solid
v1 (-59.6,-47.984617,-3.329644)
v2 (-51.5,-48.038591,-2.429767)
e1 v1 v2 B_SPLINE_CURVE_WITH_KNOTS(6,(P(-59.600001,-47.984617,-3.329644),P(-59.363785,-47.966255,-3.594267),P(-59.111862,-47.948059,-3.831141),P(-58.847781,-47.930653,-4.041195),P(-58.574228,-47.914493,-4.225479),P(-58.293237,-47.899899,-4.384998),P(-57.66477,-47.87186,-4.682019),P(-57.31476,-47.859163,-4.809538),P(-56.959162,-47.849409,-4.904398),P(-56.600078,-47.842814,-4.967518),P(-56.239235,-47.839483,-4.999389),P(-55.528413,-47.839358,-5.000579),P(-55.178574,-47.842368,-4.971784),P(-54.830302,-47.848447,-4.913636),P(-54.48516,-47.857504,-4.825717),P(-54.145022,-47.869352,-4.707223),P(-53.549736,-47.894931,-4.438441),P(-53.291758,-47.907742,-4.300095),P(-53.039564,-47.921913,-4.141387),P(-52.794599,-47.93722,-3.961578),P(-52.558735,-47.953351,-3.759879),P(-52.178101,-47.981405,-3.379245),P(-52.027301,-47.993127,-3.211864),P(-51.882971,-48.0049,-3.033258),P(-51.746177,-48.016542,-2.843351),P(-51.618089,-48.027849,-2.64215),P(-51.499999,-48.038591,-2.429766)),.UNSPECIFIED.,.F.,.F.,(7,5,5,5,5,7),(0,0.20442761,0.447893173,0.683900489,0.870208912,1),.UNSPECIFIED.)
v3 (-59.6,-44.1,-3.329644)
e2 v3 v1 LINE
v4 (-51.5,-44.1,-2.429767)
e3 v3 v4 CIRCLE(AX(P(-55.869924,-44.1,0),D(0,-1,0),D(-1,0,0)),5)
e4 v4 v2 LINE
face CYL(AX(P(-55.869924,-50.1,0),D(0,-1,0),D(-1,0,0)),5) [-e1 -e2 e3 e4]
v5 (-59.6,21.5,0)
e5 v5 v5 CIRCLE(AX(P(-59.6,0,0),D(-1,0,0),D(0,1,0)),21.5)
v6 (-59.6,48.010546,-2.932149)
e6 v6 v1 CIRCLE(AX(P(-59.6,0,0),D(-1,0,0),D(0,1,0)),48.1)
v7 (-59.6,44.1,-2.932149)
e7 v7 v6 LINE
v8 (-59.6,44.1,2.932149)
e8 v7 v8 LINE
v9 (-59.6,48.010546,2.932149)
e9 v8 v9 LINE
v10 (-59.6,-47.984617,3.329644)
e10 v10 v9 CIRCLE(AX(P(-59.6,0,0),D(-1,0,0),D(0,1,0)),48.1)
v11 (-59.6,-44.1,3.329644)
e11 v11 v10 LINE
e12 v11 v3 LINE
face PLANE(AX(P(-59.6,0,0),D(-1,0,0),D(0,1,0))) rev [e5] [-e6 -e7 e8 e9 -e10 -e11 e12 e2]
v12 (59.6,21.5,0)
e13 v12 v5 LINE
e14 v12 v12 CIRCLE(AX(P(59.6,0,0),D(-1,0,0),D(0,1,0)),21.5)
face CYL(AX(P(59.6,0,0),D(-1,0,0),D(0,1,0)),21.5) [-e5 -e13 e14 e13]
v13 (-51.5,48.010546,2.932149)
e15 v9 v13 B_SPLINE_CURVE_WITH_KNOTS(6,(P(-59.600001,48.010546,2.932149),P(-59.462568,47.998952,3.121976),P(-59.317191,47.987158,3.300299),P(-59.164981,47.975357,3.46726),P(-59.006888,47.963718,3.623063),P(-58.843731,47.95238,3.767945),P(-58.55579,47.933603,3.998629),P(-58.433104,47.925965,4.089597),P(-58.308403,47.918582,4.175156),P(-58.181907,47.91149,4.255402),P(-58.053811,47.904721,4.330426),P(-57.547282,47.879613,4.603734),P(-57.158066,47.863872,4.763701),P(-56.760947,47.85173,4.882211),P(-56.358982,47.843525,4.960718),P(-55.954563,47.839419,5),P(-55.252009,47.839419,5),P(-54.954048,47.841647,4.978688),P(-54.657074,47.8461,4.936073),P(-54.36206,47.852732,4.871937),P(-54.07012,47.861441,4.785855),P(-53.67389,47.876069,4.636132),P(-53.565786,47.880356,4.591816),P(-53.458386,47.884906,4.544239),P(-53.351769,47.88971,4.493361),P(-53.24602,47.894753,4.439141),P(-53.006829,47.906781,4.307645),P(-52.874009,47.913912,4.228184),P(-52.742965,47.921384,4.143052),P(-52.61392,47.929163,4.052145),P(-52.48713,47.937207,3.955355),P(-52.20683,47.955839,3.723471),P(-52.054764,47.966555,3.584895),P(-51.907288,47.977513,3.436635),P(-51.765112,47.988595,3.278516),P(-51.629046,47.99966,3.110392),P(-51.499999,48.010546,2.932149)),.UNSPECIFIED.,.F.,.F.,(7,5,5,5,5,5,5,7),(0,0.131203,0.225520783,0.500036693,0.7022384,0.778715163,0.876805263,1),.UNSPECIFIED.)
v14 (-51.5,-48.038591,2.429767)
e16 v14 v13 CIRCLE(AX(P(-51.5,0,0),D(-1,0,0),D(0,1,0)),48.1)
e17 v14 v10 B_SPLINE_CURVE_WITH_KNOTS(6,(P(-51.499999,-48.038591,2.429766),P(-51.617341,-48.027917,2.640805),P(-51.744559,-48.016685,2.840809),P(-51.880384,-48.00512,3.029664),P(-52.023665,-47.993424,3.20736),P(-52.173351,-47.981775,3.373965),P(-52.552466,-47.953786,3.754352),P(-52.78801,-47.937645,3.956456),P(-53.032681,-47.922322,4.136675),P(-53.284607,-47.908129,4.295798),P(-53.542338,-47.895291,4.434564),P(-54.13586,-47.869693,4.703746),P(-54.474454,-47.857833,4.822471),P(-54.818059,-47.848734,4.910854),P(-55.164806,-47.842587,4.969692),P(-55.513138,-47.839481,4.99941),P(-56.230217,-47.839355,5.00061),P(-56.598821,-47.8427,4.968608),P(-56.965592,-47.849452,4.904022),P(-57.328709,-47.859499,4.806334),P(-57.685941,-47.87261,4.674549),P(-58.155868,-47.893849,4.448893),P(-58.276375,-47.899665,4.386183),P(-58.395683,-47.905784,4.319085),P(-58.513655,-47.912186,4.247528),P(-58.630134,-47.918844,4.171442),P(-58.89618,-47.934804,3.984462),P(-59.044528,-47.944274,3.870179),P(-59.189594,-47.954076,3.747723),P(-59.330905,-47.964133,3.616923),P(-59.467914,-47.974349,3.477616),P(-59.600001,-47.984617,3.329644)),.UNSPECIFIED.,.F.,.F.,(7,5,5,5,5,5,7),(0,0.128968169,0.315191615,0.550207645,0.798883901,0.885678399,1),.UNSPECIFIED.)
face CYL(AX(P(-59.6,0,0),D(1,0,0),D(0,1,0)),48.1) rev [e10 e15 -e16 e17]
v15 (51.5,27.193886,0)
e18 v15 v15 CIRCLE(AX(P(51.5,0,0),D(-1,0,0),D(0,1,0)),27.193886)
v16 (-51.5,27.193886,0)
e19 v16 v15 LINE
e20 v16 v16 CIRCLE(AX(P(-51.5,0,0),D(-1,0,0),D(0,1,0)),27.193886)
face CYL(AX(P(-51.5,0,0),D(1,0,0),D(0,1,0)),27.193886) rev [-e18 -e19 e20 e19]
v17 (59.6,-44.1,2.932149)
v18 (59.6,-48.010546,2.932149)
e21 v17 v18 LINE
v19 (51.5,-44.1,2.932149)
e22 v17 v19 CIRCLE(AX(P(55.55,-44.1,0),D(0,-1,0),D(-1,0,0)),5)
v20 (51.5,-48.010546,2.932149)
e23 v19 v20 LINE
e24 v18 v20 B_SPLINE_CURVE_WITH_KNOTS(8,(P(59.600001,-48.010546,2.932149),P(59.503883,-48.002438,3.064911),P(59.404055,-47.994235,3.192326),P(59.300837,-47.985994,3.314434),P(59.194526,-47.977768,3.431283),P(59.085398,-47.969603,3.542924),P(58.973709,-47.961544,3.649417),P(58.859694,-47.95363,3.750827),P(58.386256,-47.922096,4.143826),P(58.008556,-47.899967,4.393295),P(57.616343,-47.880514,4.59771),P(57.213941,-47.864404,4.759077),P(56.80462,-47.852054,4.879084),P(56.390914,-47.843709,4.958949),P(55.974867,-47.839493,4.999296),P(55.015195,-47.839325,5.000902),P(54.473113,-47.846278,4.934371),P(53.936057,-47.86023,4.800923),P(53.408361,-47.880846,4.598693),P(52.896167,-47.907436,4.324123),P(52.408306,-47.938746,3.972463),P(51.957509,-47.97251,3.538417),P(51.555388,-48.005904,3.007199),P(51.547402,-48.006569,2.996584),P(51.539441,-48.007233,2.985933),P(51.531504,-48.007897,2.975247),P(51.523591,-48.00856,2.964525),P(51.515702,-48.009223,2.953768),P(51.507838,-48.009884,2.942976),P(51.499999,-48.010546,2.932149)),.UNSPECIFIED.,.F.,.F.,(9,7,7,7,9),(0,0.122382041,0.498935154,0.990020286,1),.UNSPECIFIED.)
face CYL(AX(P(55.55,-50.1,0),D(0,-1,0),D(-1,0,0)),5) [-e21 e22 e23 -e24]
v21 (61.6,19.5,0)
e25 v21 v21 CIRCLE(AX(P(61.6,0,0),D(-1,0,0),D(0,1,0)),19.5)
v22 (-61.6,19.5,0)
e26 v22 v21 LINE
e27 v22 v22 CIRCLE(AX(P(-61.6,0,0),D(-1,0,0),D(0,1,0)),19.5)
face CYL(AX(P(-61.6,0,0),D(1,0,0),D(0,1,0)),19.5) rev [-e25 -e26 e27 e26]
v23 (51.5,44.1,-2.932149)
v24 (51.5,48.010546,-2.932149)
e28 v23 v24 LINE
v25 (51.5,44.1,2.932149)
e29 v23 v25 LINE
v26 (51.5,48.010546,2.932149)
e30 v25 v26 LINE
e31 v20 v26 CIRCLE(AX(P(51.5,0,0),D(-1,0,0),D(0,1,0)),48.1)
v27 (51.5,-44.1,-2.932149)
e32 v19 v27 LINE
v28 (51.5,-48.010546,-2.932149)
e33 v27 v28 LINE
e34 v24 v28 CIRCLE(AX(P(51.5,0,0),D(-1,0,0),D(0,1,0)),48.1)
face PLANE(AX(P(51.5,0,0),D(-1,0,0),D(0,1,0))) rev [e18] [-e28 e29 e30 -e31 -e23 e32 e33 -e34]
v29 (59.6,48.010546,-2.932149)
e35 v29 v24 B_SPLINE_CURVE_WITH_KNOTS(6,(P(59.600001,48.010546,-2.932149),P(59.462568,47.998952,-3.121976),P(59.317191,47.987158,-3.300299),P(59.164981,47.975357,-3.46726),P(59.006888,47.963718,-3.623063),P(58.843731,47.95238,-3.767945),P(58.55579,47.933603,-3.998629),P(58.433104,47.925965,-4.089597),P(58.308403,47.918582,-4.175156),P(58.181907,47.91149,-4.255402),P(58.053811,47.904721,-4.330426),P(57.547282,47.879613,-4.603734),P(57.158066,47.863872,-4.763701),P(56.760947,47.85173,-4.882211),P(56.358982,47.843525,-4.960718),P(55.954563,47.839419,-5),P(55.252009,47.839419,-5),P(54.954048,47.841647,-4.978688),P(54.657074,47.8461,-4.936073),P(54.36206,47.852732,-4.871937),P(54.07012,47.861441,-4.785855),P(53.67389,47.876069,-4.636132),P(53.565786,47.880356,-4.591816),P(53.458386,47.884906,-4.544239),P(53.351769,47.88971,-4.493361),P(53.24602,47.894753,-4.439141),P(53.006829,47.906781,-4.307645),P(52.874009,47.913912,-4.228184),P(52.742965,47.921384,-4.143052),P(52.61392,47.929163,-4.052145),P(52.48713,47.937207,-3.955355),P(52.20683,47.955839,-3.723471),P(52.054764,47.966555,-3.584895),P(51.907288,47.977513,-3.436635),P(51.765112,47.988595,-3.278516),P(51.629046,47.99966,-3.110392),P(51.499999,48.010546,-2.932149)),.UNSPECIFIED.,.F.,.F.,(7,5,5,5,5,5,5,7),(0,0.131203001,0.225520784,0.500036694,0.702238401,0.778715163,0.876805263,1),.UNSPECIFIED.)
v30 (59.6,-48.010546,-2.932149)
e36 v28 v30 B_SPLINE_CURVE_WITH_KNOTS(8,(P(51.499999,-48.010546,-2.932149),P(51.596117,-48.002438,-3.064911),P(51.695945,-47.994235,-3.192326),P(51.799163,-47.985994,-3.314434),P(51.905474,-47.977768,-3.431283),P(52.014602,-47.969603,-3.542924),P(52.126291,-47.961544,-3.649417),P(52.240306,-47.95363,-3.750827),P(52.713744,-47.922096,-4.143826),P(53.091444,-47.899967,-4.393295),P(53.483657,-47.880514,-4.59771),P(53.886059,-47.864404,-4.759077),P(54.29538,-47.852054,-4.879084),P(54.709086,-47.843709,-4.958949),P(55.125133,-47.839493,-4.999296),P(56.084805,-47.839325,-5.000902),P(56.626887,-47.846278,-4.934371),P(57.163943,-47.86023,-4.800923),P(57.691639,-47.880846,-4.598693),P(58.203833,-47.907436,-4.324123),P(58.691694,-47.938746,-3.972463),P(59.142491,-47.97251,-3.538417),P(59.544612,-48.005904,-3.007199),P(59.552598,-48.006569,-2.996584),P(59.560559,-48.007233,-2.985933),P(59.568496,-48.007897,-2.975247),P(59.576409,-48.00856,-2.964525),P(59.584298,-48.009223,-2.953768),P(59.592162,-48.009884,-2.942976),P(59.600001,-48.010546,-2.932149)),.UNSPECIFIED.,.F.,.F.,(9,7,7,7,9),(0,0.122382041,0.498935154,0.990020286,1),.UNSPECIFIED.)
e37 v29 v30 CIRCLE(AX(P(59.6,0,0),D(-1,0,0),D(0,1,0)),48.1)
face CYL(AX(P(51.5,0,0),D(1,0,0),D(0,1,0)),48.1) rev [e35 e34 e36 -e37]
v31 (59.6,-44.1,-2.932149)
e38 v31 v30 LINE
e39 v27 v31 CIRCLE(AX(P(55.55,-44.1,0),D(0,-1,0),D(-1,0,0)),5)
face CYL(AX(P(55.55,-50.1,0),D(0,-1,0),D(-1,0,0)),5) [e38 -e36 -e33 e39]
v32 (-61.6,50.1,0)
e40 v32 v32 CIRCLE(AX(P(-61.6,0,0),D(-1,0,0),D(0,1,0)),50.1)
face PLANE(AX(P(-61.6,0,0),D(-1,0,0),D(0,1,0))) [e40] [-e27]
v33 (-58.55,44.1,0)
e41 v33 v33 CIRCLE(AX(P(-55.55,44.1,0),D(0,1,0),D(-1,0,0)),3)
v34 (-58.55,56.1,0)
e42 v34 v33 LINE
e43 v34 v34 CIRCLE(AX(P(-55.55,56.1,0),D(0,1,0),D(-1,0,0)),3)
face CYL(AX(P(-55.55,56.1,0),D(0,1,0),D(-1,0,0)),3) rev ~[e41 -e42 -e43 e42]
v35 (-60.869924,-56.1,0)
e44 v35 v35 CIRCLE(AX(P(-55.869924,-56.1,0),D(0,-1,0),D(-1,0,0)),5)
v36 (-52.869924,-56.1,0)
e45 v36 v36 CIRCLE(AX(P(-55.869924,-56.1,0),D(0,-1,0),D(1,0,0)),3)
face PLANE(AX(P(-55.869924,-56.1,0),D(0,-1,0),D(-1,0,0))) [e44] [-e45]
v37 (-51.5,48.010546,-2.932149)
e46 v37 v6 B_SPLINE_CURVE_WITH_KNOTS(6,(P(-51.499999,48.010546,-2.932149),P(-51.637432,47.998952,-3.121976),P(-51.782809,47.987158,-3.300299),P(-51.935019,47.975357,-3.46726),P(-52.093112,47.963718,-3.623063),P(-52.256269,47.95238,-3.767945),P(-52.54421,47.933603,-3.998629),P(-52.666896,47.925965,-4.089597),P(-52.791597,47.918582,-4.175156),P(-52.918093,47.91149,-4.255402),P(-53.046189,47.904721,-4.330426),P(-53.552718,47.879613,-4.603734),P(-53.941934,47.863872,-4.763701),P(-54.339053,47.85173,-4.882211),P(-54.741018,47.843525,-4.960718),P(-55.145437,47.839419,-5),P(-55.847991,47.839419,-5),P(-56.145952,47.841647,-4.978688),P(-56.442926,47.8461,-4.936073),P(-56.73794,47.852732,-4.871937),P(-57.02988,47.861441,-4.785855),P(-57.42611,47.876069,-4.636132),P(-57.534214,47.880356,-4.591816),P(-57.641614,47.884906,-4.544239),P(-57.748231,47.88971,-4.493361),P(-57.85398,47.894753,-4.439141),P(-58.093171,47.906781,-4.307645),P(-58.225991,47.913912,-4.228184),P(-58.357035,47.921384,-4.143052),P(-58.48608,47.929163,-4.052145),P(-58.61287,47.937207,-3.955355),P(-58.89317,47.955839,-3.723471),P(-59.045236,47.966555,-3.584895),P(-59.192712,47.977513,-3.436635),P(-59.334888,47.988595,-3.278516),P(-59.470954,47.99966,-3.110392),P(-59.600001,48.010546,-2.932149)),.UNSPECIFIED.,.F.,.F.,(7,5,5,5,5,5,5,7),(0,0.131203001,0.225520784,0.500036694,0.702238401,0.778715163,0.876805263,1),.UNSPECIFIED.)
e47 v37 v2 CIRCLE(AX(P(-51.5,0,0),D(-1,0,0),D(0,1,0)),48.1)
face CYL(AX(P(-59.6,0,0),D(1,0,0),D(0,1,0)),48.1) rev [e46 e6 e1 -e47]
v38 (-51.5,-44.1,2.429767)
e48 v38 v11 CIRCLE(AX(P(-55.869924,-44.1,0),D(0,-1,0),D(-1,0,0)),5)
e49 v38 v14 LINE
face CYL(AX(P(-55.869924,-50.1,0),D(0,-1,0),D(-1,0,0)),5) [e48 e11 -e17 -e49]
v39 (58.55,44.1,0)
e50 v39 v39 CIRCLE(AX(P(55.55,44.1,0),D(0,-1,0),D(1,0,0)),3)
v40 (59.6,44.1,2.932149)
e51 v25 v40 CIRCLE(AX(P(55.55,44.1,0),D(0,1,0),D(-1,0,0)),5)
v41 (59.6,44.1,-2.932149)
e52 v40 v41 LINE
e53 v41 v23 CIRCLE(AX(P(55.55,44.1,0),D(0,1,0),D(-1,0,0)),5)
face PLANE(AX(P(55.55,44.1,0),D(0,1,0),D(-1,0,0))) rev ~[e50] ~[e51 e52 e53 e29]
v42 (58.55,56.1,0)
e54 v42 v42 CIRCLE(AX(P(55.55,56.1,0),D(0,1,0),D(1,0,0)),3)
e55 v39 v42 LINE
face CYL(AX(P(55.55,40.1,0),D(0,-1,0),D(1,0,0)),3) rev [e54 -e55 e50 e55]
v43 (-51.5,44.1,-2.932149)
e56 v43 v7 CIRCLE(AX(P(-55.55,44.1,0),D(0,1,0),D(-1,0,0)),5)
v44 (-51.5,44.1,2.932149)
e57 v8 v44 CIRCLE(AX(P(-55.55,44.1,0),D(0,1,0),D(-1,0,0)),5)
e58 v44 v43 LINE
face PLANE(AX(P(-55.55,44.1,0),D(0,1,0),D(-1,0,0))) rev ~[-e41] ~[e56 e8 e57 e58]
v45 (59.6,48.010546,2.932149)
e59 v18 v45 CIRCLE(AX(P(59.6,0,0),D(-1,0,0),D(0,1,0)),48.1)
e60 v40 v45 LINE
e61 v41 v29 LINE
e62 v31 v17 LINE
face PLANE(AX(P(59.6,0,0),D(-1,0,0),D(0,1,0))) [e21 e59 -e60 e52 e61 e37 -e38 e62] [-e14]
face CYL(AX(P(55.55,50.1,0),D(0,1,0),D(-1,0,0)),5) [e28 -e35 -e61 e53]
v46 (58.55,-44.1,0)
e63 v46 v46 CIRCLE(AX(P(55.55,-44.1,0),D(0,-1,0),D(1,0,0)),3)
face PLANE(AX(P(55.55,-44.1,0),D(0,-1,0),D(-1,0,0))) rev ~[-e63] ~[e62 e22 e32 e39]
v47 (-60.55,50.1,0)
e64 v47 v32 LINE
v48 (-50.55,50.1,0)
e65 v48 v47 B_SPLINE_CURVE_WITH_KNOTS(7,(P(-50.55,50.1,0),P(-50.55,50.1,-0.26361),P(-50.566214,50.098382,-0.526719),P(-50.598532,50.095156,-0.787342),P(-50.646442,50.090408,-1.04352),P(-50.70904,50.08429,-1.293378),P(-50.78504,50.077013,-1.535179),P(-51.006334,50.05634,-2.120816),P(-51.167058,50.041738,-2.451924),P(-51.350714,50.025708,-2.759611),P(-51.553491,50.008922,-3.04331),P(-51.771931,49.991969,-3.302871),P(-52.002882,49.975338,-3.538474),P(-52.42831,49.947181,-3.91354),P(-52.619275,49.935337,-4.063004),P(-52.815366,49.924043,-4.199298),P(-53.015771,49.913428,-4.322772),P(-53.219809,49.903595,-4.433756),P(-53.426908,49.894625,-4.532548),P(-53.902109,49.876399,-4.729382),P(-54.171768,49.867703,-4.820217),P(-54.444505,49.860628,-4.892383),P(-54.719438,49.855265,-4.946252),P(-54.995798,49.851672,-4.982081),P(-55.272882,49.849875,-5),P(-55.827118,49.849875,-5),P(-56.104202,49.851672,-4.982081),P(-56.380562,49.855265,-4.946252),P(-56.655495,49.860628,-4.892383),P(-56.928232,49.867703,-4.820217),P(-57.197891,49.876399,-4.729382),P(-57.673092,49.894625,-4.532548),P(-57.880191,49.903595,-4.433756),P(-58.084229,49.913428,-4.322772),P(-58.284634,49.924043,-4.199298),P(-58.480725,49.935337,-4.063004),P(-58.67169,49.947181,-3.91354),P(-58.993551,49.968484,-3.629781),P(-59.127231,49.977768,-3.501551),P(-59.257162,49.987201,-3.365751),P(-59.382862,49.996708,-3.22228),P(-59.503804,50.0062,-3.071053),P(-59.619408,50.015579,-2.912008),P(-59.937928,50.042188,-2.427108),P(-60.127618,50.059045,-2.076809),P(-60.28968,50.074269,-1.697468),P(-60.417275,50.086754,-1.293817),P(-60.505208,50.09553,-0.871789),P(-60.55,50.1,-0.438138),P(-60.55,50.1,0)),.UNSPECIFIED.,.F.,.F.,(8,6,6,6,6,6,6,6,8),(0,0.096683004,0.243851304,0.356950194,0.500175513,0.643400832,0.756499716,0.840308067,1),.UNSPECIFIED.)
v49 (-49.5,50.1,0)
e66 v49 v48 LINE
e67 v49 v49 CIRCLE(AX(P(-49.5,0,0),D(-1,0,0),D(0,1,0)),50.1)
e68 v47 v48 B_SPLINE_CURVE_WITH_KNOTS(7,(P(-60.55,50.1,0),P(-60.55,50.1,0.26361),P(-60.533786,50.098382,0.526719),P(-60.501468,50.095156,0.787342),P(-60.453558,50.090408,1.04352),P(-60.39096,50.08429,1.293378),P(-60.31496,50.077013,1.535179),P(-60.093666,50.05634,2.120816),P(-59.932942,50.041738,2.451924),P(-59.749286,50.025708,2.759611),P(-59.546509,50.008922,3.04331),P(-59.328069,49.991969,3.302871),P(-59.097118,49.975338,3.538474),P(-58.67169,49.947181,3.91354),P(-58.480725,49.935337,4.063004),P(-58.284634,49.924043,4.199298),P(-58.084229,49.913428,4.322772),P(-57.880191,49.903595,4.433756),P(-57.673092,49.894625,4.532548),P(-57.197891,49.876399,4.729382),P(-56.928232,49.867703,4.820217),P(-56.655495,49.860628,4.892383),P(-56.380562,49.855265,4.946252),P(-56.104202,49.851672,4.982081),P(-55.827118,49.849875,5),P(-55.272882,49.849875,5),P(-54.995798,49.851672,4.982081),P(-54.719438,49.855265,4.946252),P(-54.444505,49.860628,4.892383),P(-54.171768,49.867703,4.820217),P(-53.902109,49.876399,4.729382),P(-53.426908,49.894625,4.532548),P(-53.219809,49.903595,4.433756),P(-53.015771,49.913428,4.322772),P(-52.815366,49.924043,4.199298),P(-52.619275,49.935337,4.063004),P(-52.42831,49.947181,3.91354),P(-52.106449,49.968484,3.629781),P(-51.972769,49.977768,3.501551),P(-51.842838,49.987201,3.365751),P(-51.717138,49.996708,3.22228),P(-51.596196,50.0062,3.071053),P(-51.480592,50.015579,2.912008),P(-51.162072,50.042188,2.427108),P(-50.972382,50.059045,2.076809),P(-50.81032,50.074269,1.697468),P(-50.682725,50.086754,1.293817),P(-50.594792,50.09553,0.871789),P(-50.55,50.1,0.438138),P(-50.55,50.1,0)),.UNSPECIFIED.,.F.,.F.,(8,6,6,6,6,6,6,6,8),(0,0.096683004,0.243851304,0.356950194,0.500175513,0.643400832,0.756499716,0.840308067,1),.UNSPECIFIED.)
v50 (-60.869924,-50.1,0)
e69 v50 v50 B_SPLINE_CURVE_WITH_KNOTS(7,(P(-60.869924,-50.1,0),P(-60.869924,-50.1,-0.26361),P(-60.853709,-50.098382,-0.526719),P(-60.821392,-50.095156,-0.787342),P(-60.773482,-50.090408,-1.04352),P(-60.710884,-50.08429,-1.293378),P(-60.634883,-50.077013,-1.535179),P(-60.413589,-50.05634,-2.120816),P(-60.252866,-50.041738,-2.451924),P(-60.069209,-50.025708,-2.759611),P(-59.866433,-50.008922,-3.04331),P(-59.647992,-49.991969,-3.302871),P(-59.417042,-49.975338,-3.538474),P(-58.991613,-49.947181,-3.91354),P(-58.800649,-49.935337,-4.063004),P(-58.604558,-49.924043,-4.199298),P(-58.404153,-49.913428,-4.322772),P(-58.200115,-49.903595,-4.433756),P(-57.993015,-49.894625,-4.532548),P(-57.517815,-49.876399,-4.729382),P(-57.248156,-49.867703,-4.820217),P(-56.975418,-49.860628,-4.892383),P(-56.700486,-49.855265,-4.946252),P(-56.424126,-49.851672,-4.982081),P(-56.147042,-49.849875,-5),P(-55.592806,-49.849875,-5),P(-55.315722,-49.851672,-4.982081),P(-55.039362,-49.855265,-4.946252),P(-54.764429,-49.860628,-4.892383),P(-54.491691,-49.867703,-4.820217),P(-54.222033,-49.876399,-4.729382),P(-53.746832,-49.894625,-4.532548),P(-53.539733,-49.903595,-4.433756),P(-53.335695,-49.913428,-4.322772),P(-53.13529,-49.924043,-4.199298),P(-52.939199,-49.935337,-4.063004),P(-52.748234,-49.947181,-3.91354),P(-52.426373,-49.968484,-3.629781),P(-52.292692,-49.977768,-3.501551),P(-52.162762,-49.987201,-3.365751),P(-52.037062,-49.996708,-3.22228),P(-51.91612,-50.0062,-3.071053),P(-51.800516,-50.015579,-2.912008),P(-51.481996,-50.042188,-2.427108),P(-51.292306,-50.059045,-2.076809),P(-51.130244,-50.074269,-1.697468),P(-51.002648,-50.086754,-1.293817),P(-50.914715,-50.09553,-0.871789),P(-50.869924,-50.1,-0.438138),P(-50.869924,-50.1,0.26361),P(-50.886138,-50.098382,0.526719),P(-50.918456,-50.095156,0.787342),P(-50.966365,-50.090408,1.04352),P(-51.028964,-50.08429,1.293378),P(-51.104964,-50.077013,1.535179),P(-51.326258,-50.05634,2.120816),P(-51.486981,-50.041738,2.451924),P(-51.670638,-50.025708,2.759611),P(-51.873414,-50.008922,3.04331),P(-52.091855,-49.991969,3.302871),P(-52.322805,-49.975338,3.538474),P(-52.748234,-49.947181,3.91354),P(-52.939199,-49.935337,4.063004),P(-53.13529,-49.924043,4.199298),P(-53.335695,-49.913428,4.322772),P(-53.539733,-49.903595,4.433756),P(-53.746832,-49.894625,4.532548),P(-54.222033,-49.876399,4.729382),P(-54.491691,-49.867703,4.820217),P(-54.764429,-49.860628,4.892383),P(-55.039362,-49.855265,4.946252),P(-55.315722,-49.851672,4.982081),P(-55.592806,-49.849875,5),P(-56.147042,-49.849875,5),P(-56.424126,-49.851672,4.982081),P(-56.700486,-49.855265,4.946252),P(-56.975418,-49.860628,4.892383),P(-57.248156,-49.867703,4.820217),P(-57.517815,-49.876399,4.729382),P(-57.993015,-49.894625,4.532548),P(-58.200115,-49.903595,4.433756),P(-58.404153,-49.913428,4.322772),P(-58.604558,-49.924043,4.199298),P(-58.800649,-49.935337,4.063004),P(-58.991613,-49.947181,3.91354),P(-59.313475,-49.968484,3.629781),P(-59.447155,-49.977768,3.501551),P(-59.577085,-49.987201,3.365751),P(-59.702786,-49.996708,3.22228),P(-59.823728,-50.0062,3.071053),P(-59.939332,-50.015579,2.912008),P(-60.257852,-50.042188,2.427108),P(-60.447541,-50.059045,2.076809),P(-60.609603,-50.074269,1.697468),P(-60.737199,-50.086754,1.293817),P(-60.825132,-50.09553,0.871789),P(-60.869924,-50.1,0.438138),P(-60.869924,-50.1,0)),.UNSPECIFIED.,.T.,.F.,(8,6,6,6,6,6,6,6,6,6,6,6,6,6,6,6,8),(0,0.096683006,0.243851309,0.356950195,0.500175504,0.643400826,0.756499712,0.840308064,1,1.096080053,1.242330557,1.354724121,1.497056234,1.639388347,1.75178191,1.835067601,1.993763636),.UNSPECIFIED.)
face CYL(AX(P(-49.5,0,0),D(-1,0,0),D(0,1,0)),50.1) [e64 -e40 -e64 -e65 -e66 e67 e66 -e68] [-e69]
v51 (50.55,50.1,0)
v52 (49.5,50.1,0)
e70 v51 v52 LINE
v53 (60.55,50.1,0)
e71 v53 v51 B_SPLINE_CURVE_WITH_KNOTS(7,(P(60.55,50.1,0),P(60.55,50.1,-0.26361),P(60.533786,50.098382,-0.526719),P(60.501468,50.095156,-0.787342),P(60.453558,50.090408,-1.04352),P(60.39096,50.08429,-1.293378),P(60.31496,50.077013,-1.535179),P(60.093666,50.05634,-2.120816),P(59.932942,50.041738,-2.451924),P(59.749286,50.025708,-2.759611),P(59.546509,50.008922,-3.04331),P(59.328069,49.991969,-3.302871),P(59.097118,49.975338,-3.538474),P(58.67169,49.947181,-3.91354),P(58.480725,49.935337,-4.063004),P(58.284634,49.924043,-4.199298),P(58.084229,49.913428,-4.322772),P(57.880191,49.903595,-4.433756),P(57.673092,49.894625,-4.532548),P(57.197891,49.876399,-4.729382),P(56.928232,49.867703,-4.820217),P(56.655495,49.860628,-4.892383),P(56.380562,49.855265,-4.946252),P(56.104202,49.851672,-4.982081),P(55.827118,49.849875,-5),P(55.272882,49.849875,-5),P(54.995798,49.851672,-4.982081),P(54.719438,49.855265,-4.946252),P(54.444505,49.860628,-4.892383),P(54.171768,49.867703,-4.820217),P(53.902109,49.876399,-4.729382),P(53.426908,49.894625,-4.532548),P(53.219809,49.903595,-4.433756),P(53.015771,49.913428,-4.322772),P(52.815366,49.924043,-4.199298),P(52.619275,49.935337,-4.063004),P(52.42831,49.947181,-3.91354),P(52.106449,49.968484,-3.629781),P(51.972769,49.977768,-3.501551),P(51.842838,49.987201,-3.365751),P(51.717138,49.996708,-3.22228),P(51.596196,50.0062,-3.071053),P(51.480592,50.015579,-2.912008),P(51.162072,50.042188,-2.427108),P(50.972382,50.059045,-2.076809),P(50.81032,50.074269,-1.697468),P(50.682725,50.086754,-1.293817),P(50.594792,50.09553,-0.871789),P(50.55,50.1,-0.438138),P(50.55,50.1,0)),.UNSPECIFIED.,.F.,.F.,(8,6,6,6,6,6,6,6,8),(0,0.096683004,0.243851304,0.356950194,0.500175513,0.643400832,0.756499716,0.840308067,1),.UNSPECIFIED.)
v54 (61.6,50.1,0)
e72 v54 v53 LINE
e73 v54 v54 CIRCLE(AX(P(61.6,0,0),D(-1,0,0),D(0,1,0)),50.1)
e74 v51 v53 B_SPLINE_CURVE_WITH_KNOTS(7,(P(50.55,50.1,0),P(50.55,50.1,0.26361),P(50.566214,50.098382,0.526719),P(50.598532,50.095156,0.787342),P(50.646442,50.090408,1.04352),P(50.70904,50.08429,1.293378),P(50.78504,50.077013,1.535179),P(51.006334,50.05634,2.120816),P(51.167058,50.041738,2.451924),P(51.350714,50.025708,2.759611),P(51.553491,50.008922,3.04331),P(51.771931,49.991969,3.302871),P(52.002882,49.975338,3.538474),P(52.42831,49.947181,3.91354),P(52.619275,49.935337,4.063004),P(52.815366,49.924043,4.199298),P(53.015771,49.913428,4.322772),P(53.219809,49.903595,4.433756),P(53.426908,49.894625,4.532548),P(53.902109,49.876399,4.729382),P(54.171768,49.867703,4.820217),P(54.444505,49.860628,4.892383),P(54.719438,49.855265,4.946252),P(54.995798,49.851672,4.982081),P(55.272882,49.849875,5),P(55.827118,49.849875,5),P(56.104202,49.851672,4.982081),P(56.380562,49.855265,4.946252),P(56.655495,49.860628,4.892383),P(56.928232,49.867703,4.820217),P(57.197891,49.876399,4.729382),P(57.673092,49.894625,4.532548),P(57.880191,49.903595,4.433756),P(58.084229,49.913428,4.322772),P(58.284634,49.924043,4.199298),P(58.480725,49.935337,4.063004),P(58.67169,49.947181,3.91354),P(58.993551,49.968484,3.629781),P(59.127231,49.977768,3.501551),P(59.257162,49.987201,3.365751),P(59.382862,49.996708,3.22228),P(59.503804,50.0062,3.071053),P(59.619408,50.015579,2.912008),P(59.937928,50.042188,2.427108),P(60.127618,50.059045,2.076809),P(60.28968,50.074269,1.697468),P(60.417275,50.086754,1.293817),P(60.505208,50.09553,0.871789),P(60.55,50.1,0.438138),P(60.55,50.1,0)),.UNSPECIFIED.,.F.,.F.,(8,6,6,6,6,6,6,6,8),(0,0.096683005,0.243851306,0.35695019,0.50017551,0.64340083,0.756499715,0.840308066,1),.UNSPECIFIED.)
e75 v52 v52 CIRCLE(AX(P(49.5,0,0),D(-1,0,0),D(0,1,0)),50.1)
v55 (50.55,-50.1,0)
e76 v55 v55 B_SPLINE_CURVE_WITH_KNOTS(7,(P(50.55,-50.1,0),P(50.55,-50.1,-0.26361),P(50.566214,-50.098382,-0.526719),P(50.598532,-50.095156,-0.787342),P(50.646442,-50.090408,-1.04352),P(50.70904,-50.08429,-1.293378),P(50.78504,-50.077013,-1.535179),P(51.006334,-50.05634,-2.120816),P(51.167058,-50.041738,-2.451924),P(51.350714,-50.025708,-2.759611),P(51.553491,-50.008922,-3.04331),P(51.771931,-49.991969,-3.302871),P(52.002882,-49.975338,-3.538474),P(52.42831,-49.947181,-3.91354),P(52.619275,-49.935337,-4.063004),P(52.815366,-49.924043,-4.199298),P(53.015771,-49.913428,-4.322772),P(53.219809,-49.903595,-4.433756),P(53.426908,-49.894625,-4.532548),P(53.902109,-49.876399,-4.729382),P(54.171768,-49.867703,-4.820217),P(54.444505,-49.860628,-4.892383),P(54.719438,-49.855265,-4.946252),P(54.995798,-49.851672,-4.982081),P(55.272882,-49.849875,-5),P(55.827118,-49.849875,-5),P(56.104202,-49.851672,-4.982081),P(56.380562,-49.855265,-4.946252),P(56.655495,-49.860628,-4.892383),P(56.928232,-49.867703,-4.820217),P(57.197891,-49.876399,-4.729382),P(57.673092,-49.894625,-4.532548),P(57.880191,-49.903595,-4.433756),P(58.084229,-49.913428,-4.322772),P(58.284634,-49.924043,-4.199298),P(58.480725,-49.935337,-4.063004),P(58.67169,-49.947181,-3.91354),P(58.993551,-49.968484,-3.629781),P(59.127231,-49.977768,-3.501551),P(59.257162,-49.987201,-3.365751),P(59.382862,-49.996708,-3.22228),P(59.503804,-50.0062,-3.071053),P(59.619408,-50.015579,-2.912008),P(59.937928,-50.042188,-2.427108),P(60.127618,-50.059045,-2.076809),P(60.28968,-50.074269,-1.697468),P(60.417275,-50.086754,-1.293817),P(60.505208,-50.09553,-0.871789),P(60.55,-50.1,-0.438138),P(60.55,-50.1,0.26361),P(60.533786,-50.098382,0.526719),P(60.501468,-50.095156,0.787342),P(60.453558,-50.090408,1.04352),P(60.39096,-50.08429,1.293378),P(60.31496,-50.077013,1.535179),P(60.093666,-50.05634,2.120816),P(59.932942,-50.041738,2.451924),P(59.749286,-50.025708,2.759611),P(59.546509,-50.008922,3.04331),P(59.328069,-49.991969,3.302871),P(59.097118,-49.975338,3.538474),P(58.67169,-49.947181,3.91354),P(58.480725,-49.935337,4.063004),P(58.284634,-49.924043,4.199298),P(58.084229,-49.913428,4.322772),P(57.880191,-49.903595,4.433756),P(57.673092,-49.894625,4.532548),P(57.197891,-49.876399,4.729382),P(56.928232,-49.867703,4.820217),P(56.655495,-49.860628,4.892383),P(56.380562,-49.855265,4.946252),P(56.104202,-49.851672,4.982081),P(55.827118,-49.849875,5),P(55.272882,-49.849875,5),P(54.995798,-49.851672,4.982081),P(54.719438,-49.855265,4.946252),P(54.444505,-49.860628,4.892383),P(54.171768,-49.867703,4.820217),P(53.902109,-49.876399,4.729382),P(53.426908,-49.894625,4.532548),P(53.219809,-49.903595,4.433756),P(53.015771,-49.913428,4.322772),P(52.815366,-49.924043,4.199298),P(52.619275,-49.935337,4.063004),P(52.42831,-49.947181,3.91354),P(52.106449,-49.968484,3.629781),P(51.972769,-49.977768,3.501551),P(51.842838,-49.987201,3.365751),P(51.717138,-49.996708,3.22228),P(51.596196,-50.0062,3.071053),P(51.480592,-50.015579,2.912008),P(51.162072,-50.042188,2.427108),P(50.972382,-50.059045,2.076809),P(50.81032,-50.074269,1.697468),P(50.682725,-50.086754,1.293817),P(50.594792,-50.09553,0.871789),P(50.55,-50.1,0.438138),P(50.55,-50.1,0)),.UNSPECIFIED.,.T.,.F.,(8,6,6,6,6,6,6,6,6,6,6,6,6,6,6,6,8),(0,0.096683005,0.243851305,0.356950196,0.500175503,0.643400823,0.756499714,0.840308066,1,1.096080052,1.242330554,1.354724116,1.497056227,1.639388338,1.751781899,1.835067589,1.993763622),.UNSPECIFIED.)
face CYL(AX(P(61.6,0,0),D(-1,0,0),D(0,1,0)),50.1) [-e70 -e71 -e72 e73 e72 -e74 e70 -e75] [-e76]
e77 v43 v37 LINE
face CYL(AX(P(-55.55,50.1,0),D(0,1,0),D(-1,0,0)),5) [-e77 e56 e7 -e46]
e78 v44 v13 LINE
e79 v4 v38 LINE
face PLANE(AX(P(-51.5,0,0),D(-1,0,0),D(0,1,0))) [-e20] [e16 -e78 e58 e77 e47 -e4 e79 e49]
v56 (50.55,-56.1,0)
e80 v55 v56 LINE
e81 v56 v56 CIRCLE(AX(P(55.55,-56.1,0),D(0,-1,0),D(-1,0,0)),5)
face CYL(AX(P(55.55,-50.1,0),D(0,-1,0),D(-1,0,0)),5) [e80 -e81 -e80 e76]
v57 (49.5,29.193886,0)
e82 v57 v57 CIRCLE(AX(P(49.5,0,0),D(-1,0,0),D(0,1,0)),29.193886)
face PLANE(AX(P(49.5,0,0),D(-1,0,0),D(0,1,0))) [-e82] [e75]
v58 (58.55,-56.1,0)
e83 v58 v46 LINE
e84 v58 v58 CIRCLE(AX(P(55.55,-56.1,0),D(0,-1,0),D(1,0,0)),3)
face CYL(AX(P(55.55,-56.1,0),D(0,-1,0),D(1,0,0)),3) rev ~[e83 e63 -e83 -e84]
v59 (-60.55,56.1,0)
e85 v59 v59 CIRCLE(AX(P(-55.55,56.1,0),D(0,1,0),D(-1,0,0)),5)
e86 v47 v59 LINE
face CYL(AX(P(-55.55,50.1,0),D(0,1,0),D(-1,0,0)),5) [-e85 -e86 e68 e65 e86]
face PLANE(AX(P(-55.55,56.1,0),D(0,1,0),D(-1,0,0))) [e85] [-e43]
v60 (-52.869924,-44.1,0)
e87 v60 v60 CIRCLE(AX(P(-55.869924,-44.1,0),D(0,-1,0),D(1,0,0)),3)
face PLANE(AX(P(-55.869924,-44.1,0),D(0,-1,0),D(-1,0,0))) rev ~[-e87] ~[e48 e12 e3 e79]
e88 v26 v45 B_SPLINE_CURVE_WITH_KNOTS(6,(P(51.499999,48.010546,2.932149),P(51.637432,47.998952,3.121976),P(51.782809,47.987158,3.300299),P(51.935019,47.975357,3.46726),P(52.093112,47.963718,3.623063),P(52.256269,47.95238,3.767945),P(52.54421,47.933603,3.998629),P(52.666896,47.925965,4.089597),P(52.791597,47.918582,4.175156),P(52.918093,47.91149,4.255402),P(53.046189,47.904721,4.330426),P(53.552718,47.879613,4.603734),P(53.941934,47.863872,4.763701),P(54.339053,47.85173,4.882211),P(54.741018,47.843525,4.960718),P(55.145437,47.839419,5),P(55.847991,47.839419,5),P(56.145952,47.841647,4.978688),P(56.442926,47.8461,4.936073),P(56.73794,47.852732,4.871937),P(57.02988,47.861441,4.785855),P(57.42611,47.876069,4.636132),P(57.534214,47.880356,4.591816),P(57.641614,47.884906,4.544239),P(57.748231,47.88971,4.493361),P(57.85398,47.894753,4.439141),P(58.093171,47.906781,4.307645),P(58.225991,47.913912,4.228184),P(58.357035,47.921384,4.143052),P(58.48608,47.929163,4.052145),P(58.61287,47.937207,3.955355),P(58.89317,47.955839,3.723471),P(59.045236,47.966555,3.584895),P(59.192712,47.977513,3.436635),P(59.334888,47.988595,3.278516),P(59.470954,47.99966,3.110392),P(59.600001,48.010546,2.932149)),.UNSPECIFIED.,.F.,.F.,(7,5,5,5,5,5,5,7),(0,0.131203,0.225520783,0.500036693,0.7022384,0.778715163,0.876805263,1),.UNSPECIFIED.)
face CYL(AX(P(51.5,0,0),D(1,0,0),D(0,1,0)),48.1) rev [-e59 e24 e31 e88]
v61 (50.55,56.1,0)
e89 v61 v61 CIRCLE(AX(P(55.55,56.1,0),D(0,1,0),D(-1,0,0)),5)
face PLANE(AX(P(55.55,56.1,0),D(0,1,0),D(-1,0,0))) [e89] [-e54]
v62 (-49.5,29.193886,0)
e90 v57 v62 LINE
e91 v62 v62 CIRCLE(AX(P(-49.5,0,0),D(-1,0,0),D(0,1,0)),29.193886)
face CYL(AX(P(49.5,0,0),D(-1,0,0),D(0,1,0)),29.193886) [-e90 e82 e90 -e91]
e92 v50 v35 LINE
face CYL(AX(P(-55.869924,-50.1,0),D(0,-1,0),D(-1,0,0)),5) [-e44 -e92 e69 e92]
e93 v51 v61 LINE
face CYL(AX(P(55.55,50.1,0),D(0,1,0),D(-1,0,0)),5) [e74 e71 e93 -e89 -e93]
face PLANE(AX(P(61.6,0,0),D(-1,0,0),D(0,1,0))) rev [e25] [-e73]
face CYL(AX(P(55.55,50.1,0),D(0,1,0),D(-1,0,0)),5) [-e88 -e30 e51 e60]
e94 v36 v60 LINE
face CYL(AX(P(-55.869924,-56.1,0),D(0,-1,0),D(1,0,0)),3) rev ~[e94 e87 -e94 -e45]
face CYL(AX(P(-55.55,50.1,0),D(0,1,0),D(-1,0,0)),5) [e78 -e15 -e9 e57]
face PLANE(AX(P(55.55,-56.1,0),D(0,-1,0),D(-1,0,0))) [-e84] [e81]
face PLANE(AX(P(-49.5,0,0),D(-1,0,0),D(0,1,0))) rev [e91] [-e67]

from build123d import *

# Parameters (mm, degrees)
CROQUIS3_R              = 5
SALIENTE_EXTRUIR1_DEPTH = 6
CROQUIS4_R              = 3
CORTAR_EXTRUIR1_DEPTH   = 12
CROQUIS5_R              = 5
SALIENTE_EXTRUIR2_DEPTH = 6
CROQUIS8_R              = 5
SALIENTE_EXTRUIR4_DEPTH = 6
CROQUIS9_R              = 3
CORTAR_EXTRUIR4_DEPTH   = 12
CROQUIS10_R             = 5
SALIENTE_EXTRUIR5_DEPTH = 6
CROQUIS11_R             = 3
CORTAR_EXTRUIR5_DEPTH   = 12
CORTAR_EXTRUIR7_START   = -16
CROQUIS14_R             = 3
CORTAR_EXTRUIR7_DEPTH   = 16


with BuildPart() as part:
    # Camisa → Revolución3 (revolve)
    with BuildSketch(Plane.XY):
        Polygon((-61.6, 19.5), (61.6, 19.5), (61.6, 50.1), (49.5, 50.1), (49.5, 29.193885615), (-49.5, 29.193885615), (-49.5, 50.1), (-61.6, 50.1), align=None)
        Polygon((51.5, 48.1), (59.6, 48.1), (59.6, 21.5), (-59.6, 21.5), (-59.6, 48.1), (-51.5, 48.1), (-51.5, 27.193885615), (51.5, 27.193885615), align=None, mode=Mode.SUBTRACT)
    revolve(axis=Axis((125, 0, 0), (-1, 0, 0)))

    # Croquis3 → Saliente-Extruir1 (add, symmetric)
    with BuildSketch(Plane(origin=(0, 50.1, 0), x_dir=(1, 0, 0), z_dir=(0, 1, 0))):
        with Locations(Location((-55.55, 0, 0), (0, 0, 180))):
            Circle(CROQUIS3_R)
    extrude(amount=SALIENTE_EXTRUIR1_DEPTH, both=True)

    # Croquis4 → Cortar-Extruir1 (cut)
    with BuildSketch(Plane(origin=(0, 56.1, 0), x_dir=(1, 0, 0), z_dir=(0, 1, 0))):
        with Locations(Location((-55.55, 0, 0), (0, 0, 180))):
            Circle(CROQUIS4_R)
    extrude(amount=-CORTAR_EXTRUIR1_DEPTH, mode=Mode.SUBTRACT)

    # Croquis5 → Saliente-Extruir2 (add, symmetric)
    with BuildSketch(Plane(origin=(0, 50.1, 0), x_dir=(1, 0, 0), z_dir=(0, 1, 0))):
        with Locations(Location((55.55, 0, 0), (0, 0, 180))):
            Circle(CROQUIS5_R)
    extrude(amount=SALIENTE_EXTRUIR2_DEPTH, both=True)

    # Croquis8 → Saliente-Extruir4 (add, symmetric)
    with BuildSketch(Plane(origin=(0, -50.1, 0), x_dir=(-1, 0, 0), z_dir=(0, -1, 0))):
        with Locations((55.869923699, 0)):
            Circle(CROQUIS8_R)
    extrude(amount=SALIENTE_EXTRUIR4_DEPTH, both=True)

    # Croquis9 → Cortar-Extruir4 (cut)
    with BuildSketch(Plane.XZ.offset(56.1)):
        with Locations((-55.869923699, 0)):
            Circle(CROQUIS9_R)
    extrude(amount=-CORTAR_EXTRUIR4_DEPTH, mode=Mode.SUBTRACT)

    # Croquis10 → Saliente-Extruir5 (add, symmetric)
    with BuildSketch(Plane(origin=(0, -50.1, 0), x_dir=(-1, 0, 0), z_dir=(0, -1, 0))):
        with Locations((-55.55, 0)):
            Circle(CROQUIS10_R)
    extrude(amount=SALIENTE_EXTRUIR5_DEPTH, both=True)

    # Croquis11 → Cortar-Extruir5 (cut)
    with BuildSketch(Plane.XZ.offset(56.1)):
        with Locations((55.55, 0)):
            Circle(CROQUIS11_R)
    extrude(amount=-CORTAR_EXTRUIR5_DEPTH, mode=Mode.SUBTRACT)

    # Croquis14 → Cortar-Extruir7 (cut)
    with BuildSketch(Plane(origin=(0, 56.1, 0), x_dir=(1, 0, 0), z_dir=(0, 1, 0)).offset(CORTAR_EXTRUIR7_START)):
        with Locations((55.55, 0)):
            Circle(CROQUIS14_R)
    extrude(amount=CORTAR_EXTRUIR7_DEPTH, mode=Mode.SUBTRACT)


solid = part.part
